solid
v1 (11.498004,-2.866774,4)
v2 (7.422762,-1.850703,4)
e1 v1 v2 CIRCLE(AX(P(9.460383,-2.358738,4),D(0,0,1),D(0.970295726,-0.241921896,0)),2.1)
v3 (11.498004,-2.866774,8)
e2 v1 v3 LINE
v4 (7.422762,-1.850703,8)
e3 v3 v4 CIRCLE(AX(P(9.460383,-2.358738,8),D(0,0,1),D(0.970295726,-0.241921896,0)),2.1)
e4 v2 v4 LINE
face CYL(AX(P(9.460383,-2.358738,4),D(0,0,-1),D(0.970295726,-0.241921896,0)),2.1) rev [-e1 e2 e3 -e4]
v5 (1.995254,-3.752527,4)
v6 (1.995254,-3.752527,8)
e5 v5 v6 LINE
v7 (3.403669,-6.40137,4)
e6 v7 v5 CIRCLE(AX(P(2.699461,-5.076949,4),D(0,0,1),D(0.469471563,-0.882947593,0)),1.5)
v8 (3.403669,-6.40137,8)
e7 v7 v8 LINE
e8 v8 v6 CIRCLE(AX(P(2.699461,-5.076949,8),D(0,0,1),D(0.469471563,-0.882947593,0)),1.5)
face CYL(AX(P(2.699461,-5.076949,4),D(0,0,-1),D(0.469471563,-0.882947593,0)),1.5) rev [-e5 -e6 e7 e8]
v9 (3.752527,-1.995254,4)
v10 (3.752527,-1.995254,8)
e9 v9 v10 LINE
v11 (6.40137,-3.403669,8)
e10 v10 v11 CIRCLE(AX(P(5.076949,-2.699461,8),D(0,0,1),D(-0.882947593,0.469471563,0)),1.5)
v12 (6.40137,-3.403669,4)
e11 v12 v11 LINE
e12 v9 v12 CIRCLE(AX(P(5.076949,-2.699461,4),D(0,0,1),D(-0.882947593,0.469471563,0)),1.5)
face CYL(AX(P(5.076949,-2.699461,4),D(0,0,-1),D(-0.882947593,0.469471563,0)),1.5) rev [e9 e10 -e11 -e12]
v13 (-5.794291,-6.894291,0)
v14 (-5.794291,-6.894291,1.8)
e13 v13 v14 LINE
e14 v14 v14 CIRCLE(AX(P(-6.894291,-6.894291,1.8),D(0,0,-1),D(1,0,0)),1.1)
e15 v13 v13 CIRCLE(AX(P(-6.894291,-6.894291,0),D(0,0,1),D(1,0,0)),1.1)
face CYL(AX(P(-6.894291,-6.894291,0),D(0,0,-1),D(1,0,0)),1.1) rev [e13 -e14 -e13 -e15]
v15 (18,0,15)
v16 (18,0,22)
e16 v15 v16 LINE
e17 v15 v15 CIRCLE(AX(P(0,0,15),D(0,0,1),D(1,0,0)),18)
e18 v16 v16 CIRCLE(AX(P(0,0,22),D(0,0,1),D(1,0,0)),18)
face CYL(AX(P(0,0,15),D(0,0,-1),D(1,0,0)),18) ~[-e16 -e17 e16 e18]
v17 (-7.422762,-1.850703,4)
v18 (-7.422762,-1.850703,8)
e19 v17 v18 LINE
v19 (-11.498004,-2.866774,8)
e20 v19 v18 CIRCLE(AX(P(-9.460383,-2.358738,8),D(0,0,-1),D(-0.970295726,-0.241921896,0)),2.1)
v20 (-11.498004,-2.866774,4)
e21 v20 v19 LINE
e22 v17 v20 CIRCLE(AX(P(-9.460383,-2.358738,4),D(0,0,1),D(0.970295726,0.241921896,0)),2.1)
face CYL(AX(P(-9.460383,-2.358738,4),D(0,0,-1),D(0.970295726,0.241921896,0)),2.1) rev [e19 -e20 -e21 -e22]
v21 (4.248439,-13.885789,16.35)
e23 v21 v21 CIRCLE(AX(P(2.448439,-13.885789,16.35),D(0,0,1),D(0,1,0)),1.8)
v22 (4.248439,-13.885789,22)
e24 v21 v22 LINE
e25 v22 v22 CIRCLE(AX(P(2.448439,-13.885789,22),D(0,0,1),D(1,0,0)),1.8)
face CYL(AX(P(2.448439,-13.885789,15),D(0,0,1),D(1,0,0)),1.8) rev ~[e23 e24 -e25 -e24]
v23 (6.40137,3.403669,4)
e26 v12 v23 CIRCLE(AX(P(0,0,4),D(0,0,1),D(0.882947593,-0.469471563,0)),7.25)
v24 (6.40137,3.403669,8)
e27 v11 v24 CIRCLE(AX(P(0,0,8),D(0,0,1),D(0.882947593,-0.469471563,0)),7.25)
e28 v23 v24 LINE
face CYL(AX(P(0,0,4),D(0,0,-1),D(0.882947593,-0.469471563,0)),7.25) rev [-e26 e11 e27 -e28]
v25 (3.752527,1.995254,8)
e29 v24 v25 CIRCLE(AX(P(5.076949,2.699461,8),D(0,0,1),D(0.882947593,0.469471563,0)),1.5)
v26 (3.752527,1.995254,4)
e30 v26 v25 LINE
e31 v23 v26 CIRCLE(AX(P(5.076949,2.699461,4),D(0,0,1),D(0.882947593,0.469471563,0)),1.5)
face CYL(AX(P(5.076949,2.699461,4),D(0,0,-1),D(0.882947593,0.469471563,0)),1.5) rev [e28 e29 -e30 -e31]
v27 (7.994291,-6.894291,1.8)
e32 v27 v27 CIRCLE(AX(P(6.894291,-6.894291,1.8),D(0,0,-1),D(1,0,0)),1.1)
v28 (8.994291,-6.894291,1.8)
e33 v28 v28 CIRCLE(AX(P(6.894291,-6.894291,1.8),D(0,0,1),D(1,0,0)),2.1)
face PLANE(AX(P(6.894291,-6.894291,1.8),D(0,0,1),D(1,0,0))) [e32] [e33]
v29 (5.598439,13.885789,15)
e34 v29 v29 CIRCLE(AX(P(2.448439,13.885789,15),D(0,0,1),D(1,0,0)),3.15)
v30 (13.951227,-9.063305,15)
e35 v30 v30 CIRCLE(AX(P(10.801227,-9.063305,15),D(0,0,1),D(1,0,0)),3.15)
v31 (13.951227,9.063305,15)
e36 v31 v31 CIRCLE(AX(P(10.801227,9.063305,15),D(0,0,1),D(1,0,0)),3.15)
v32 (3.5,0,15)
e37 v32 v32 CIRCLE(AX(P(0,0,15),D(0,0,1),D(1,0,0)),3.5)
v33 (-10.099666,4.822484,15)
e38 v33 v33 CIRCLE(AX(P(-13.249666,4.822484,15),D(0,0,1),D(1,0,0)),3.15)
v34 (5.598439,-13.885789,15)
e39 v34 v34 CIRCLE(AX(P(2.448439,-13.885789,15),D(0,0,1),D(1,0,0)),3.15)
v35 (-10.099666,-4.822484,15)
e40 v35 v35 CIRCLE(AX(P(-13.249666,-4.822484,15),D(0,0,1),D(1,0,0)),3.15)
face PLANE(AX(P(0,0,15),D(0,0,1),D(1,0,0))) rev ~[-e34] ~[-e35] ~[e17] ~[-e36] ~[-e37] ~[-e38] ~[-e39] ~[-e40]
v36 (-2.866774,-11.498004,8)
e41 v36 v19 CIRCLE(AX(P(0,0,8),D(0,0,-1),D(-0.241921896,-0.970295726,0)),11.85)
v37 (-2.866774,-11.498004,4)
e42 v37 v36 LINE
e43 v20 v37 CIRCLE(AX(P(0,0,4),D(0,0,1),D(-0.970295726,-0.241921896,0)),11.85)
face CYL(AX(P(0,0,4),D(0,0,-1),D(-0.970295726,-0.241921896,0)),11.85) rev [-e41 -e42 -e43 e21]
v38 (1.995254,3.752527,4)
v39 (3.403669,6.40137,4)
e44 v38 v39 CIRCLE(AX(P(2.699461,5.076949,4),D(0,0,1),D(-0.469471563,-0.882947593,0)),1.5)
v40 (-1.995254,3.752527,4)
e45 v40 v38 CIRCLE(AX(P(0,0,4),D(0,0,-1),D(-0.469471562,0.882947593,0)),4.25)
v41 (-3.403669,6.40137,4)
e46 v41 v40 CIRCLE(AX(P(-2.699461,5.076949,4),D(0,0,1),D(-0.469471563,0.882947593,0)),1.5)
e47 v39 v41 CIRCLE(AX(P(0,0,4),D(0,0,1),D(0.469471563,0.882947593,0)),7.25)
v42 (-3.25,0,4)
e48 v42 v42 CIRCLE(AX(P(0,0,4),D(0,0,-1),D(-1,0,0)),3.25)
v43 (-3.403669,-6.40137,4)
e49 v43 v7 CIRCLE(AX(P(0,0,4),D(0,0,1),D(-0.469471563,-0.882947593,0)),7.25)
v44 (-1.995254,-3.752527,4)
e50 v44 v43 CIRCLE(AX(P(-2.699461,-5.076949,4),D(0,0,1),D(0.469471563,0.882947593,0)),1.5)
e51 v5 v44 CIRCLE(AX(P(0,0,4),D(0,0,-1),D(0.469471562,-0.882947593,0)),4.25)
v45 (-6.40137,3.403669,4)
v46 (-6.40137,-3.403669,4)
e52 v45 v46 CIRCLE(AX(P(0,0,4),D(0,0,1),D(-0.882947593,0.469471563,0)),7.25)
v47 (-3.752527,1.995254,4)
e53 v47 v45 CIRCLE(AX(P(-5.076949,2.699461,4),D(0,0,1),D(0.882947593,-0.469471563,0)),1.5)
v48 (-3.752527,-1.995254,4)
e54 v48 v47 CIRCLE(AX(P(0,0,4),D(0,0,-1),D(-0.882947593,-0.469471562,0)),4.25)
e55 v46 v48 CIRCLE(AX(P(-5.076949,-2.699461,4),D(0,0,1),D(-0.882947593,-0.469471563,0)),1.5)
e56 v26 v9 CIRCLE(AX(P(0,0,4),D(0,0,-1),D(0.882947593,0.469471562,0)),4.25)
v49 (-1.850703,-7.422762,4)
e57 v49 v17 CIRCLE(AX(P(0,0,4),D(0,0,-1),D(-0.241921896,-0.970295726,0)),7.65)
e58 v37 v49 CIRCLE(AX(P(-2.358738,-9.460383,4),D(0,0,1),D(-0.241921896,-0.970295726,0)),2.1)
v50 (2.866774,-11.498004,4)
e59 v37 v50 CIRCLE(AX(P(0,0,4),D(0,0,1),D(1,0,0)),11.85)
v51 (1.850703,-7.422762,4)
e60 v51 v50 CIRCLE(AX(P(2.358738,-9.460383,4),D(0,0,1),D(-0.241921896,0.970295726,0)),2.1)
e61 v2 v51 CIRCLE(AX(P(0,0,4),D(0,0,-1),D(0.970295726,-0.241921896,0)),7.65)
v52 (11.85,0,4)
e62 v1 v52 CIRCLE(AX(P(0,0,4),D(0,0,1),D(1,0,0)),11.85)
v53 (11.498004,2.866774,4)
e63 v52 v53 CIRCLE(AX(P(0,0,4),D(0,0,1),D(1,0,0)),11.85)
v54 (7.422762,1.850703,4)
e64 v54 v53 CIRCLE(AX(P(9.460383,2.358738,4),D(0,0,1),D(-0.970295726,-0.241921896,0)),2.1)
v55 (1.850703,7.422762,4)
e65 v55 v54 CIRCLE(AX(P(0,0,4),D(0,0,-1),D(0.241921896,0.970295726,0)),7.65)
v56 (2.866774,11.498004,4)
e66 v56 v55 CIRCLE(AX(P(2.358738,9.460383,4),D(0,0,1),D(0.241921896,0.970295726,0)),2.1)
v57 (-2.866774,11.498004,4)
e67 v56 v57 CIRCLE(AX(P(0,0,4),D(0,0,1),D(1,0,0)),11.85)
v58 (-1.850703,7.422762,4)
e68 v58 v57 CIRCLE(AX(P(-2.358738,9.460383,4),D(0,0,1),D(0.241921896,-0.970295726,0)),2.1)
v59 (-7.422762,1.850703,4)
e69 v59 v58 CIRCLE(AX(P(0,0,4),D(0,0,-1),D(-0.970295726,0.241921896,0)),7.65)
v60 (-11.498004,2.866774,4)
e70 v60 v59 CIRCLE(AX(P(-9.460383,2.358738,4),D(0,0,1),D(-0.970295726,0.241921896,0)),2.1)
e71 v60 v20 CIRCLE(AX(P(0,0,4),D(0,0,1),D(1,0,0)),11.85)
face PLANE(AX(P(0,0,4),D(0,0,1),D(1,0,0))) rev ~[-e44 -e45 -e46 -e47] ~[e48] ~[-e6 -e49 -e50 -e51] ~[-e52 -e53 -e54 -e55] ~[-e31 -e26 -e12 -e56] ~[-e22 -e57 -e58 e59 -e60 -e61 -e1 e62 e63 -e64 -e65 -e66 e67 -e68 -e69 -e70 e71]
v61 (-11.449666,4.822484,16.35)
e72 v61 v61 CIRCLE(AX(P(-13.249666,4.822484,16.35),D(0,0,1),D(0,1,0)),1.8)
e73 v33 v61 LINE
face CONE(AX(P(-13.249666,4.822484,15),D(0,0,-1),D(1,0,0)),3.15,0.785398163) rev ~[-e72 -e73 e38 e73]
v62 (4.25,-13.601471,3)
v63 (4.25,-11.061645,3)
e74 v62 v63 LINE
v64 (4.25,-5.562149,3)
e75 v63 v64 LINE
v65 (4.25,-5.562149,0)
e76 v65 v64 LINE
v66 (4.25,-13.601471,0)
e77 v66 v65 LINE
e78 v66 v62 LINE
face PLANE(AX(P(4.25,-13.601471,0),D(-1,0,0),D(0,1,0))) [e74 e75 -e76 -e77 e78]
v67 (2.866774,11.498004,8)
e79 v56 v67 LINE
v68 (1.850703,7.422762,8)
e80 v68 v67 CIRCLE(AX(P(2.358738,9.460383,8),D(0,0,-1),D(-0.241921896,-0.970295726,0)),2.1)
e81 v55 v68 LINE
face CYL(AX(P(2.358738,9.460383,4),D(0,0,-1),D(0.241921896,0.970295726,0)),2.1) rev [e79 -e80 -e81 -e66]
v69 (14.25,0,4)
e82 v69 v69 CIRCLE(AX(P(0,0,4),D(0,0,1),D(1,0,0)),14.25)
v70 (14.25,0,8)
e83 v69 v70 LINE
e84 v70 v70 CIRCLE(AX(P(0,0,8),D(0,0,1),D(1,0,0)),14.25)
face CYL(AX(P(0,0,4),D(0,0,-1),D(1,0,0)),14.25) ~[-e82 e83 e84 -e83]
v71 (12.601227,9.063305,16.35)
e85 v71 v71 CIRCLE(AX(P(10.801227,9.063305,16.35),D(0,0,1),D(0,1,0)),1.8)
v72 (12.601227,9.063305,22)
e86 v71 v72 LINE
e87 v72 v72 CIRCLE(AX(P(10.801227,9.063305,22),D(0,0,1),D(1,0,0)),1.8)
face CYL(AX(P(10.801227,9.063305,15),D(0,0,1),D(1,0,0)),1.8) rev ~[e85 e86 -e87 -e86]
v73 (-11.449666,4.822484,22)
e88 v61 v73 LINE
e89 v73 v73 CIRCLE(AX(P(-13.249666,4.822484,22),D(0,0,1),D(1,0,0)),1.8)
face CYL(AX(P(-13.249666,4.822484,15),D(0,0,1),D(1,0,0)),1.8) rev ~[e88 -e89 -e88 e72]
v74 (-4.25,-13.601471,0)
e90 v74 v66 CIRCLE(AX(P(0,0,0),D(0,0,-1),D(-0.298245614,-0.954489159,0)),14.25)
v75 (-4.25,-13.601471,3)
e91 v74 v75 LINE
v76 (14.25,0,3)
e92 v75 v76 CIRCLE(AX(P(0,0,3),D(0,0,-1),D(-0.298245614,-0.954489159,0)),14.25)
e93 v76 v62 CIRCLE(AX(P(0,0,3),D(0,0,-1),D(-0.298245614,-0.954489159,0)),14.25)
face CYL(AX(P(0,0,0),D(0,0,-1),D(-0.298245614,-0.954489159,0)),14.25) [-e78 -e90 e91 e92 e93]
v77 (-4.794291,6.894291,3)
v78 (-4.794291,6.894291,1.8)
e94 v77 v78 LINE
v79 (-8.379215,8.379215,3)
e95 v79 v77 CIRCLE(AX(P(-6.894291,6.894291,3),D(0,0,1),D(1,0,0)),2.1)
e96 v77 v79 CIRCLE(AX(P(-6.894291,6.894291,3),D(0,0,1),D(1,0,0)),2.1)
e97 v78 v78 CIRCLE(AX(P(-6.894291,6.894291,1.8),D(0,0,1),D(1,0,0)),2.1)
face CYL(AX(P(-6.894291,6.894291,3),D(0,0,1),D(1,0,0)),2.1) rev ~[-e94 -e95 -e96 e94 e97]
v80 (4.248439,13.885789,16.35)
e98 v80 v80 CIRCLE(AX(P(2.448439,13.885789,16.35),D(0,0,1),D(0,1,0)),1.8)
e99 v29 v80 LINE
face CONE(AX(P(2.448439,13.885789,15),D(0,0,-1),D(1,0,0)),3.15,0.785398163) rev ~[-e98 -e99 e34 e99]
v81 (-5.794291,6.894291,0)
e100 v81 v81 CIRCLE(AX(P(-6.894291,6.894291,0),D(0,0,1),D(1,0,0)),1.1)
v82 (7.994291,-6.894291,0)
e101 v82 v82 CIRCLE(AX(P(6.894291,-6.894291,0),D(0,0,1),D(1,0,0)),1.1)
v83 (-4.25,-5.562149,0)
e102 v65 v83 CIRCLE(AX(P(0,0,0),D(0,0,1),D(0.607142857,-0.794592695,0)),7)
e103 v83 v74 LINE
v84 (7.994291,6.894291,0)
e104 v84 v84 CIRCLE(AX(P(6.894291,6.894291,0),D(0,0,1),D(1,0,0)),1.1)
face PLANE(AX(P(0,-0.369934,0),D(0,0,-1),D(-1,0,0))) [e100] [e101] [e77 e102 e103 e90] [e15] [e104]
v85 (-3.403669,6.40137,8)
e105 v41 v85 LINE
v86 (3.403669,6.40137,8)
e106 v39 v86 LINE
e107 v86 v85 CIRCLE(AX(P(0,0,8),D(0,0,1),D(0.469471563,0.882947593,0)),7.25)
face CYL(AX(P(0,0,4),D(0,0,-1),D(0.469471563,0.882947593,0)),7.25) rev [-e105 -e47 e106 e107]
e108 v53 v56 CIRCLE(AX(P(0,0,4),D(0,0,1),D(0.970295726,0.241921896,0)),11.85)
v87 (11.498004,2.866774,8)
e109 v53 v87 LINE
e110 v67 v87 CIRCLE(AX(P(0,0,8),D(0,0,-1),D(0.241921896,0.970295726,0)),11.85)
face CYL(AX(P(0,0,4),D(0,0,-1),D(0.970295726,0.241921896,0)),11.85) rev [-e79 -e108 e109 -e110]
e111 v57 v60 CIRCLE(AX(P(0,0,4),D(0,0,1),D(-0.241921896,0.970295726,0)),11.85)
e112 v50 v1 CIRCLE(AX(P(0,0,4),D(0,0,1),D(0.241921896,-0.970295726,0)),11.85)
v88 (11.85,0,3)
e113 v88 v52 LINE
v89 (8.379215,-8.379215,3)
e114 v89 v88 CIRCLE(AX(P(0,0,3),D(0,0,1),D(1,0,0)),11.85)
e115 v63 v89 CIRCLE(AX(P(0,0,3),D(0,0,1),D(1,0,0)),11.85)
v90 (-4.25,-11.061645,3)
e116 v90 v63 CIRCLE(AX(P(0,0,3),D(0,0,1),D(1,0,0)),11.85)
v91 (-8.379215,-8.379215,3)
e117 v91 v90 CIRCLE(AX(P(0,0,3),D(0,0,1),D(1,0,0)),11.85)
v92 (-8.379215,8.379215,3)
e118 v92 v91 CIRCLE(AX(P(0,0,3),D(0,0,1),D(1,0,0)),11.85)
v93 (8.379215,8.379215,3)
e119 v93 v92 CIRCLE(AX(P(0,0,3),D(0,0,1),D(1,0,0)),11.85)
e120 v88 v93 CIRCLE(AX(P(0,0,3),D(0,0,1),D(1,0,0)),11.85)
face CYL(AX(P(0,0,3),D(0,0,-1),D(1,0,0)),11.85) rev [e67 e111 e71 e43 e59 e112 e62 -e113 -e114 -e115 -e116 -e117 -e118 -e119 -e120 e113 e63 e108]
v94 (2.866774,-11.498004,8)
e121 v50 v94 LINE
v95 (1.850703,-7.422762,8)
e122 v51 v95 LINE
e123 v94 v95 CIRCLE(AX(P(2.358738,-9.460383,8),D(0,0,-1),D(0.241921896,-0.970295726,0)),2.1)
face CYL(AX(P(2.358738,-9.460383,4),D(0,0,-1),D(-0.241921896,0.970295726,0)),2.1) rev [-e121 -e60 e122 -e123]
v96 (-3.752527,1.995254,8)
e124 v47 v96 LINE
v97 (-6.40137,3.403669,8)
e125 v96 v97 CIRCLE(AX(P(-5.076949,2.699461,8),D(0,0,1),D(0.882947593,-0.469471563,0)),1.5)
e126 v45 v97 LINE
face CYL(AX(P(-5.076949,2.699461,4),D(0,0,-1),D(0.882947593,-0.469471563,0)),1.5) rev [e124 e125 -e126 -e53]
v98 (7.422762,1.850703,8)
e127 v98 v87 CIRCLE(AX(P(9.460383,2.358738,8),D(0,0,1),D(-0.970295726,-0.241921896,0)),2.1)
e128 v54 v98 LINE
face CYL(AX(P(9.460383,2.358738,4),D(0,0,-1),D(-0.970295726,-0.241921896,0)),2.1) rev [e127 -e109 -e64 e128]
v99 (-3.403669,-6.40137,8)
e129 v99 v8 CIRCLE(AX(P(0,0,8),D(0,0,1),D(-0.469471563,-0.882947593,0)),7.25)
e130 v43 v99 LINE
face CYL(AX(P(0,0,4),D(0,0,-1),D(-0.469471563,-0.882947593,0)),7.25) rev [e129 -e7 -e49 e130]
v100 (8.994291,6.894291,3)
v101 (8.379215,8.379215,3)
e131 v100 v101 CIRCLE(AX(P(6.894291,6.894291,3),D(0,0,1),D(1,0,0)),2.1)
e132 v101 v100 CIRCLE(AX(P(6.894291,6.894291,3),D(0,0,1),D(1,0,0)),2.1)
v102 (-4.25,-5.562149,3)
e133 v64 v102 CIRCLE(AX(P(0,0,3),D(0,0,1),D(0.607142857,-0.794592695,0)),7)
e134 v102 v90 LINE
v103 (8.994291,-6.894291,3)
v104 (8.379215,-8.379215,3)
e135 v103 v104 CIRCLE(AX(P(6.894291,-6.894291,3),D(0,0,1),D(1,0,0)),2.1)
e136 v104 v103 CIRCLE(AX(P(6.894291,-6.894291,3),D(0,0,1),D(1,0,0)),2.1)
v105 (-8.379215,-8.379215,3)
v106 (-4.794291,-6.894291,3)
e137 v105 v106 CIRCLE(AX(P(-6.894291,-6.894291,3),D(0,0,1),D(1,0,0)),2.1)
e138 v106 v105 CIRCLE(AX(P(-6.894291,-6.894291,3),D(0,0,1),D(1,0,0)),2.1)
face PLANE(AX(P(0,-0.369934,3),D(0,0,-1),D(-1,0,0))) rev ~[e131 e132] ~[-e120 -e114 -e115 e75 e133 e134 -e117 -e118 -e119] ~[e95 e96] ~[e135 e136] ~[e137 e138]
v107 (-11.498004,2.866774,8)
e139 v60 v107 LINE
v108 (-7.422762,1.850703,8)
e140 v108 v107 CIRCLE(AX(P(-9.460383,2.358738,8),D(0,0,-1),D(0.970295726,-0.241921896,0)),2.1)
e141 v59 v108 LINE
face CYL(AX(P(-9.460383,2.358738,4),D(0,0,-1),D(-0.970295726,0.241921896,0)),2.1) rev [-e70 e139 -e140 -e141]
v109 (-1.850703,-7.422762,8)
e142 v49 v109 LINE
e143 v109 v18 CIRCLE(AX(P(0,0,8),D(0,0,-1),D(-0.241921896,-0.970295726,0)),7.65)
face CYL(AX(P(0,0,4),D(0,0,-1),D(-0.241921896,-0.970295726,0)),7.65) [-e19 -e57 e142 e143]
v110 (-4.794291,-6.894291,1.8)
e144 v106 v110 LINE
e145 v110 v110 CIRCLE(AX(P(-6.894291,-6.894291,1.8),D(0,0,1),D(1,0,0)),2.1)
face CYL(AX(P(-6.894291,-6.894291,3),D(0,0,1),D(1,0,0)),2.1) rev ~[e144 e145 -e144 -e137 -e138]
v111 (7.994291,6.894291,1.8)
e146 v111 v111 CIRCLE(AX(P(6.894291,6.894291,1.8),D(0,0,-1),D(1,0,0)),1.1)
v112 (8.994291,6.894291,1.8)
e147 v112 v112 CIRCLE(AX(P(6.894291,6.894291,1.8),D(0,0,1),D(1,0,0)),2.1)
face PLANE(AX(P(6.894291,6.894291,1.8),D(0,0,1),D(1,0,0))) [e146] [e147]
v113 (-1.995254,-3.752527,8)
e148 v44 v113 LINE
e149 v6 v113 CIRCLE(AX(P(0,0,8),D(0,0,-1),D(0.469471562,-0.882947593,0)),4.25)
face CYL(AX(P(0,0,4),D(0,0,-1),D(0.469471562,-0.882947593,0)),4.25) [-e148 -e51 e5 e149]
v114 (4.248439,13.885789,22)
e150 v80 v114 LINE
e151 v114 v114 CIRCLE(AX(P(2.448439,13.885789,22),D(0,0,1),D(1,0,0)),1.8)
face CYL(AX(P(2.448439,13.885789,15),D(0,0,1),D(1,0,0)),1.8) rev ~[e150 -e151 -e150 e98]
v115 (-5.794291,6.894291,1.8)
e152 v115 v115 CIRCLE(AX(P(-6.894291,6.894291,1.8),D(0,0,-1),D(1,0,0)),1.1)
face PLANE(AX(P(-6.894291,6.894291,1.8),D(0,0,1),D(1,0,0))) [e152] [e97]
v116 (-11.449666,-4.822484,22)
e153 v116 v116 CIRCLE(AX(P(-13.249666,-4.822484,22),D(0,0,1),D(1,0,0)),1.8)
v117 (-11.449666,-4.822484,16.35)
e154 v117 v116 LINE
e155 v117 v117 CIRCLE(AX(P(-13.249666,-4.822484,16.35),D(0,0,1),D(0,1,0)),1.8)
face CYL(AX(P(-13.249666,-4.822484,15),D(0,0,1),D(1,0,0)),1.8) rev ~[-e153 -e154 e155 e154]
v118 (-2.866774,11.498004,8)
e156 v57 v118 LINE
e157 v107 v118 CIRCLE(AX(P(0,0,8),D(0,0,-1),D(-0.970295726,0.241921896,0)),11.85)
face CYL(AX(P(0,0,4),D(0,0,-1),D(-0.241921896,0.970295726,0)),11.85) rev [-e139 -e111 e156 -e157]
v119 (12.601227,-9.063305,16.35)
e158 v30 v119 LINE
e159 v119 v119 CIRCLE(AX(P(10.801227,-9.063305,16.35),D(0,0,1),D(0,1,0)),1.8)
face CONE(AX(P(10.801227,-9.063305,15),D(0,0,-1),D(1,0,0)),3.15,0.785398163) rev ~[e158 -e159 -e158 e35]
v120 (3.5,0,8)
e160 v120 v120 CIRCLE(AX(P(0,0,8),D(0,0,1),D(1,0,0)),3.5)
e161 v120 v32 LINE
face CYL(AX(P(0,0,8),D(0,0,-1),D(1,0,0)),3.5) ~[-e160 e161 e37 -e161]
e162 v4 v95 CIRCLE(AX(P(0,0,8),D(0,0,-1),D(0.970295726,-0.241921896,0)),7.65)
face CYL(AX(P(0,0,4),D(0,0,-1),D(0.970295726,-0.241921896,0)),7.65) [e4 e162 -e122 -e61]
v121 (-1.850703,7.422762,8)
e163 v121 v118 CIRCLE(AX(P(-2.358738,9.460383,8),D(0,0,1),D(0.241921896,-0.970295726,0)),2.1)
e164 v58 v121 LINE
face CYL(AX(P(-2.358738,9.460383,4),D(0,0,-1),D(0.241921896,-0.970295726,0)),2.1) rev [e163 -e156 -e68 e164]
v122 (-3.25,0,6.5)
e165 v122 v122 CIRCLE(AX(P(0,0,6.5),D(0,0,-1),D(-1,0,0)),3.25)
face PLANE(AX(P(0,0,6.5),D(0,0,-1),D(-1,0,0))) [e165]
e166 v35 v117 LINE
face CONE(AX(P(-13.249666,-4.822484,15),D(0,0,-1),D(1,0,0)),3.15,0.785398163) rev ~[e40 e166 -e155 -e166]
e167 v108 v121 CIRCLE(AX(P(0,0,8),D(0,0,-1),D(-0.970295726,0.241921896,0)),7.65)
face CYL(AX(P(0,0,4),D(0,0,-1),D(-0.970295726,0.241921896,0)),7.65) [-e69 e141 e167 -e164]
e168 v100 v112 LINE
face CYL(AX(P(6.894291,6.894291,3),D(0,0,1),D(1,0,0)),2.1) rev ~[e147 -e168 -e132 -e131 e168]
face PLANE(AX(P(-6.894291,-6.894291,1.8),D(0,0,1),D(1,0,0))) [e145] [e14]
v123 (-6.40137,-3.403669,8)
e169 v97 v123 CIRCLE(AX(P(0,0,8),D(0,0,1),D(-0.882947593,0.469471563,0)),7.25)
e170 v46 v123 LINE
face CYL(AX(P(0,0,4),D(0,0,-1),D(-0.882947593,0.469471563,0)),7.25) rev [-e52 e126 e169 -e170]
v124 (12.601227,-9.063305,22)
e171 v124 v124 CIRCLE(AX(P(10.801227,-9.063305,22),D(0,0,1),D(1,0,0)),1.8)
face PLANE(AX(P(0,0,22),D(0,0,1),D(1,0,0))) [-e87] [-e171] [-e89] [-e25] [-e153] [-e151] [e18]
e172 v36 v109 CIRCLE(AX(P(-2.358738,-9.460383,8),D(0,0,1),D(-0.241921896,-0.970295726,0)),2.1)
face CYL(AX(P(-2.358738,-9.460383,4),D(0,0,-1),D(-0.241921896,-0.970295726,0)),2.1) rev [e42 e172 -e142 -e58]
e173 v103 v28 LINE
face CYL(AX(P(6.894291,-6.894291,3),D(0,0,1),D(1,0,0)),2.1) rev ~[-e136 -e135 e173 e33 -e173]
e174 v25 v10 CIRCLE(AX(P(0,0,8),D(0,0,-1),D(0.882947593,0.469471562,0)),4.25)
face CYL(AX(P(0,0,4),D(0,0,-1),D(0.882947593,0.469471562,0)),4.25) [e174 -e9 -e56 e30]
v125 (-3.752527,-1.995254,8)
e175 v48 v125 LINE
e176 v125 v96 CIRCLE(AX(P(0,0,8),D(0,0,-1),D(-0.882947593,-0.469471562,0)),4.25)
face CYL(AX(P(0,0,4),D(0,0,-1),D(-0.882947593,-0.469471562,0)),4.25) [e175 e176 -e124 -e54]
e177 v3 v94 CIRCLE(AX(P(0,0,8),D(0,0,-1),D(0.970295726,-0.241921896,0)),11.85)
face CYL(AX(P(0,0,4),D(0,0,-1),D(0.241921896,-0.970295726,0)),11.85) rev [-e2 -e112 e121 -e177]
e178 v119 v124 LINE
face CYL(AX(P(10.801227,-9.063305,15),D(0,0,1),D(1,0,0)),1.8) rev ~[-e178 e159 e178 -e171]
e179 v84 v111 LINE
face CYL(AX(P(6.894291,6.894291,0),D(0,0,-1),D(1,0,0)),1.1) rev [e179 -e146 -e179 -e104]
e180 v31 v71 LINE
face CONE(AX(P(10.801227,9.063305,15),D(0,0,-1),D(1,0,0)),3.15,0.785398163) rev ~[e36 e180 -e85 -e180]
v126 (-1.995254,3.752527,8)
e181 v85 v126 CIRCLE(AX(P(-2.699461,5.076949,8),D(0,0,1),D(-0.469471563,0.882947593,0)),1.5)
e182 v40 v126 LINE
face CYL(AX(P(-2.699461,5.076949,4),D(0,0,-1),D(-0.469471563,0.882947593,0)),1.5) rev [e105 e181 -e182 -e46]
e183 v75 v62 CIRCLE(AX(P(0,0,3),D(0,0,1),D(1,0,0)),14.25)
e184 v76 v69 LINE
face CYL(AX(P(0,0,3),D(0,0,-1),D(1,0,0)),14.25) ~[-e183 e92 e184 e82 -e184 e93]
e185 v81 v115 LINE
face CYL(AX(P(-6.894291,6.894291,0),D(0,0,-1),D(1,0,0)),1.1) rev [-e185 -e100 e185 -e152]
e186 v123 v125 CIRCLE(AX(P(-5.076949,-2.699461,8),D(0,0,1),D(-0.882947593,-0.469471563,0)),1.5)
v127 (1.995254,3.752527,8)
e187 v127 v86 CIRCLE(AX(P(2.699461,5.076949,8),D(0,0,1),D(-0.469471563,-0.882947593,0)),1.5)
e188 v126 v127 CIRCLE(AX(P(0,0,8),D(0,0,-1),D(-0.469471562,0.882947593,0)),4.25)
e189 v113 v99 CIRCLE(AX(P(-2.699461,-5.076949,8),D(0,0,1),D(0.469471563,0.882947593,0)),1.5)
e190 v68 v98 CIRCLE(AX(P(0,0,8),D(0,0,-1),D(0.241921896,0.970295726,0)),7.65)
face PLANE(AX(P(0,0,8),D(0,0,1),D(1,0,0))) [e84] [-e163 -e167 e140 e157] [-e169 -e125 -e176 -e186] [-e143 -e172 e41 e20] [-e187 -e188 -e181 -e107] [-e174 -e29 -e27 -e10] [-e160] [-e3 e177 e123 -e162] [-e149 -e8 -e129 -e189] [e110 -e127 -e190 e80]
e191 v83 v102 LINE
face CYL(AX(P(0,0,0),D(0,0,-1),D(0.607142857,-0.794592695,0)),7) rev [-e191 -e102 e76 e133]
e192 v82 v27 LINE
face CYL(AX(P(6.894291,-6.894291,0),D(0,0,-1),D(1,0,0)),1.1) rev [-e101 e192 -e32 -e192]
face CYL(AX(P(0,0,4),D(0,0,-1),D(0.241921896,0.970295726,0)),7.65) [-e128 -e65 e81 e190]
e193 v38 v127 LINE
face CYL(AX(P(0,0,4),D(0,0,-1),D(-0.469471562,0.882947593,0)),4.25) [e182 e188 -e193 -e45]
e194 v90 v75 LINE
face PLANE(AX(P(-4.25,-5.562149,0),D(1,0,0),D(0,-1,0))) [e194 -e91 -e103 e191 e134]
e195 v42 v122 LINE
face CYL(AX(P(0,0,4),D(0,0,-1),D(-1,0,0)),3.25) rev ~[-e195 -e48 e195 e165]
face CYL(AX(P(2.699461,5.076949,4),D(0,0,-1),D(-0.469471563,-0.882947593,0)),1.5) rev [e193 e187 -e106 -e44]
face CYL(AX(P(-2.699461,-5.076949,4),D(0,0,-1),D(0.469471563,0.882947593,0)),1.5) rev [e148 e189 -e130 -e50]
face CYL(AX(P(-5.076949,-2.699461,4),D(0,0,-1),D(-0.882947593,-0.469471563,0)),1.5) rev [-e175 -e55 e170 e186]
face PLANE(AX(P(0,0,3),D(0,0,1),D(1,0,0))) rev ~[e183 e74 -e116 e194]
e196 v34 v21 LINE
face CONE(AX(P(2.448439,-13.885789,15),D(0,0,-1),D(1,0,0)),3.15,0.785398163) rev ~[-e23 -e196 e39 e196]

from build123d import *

# Parameters (mm, degrees)
SKETCH_1_R                   = 1.1
EXTRUDE_1_DEPTH              = 3
SKETCH_2_R                   = 2.1
CUT_EXTRUDE_1_DEPTH          = 1.2
SKETCH_3_R                   = 14.25
SKETCH_3_R_2                 = 11.85
EXTRUDE_2_DEPTH              = 1
SKETCH_4_R                   = 14.25
EXTRUDE_3_DEPTH              = 4
SKETCH_5_R                   = 3.25
CUT_EXTRUDE_2_DEPTH          = 2.5
SKETCH_6_R                   = 3.5
EXTRUDE_4_DEPTH              = 7
SKETCH_7_R                   = 18
SKETCH_7_R_2                 = 1.6
EXTRUDE_5_DEPTH              = 7
HOLE_WIZARD_M3_1_D           = 3.6
HOLE_WIZARD_M3_1_DEPTH       = 7
HOLE_WIZARD_M3_1_CSINK_D     = 6.3
HOLE_WIZARD_M3_1_CSINK_ANGLE = 90


with BuildPart() as part:
    # 스케치1 → 보스-돌출1 (new body)
    with BuildSketch(Plane.XY):
        with BuildLine():
            Line((-4.25, -5.562148865), (-4.25, -13.601470509))
            ThreePointArc((-4.25, -13.601470509), (0, 14.25), (4.25, -13.601470509))
            Line((4.25, -13.601470509), (4.25, -5.562148865))
            ThreePointArc((4.25, -5.562148865), (0, 7), (-4.25, -5.562148865))
        make_face()
        with Locations((6.894291117, 6.894291117)):
            Circle(SKETCH_1_R, mode=Mode.SUBTRACT)
        with Locations((6.894291117, -6.894291117)):
            Circle(SKETCH_1_R, mode=Mode.SUBTRACT)
        with Locations((-6.894291117, -6.894291117)):
            Circle(SKETCH_1_R, mode=Mode.SUBTRACT)
        with Locations((-6.894291117, 6.894291117)):
            Circle(SKETCH_1_R, mode=Mode.SUBTRACT)
    extrude(amount=EXTRUDE_1_DEPTH)

    # 스케치2 → 컷-돌출1 (cut)
    with BuildSketch(Plane.XY.offset(3)):
        with Locations((-6.894291117, 6.894291117)):
            Circle(SKETCH_2_R)
        with Locations((6.894291117, 6.894291117)):
            Circle(SKETCH_2_R)
        with Locations((6.894291117, -6.894291117)):
            Circle(SKETCH_2_R)
        with Locations((-6.894291117, -6.894291117)):
            Circle(SKETCH_2_R)
    extrude(amount=-CUT_EXTRUDE_1_DEPTH, mode=Mode.SUBTRACT)

    # 스케치3 → 보스-돌출2 (add)
    with BuildSketch(Plane.XY.offset(3)):
        Circle(SKETCH_3_R)
        Circle(SKETCH_3_R_2, mode=Mode.SUBTRACT)
    extrude(amount=EXTRUDE_2_DEPTH)

    # 스케치4 → 보스-돌출3 (add)
    with BuildSketch(Plane.XY.offset(4)):
        Circle(SKETCH_4_R)
        with BuildLine():
            ThreePointArc((11.498004356, 2.866774463), (8.379215357, 8.379215357), (2.866774463, 11.498004356))
            ThreePointArc((2.866774463, 11.498004356), (0.321117457, 9.968419312), (1.850702501, 7.422762306))
            ThreePointArc((1.850702501, 7.422762306), (5.409366876, 5.409366876), (7.422762306, 1.850702501))
            ThreePointArc((7.422762306, 1.850702501), (9.968419312, 0.321117457), (11.498004356, 2.866774463))
        make_face(mode=Mode.SUBTRACT)
        with BuildLine():
            ThreePointArc((2.866774463, -11.498004356), (8.379215357, -8.379215357), (11.498004356, -2.866774463))
            ThreePointArc((11.498004356, -2.866774463), (9.968419312, -0.321117457), (7.422762306, -1.850702501))
            ThreePointArc((7.422762306, -1.850702501), (5.409366876, -5.409366876), (1.850702501, -7.422762306))
            ThreePointArc((1.850702501, -7.422762306), (0.321117457, -9.968419312), (2.866774463, -11.498004356))
        make_face(mode=Mode.SUBTRACT)
        with BuildLine():
            ThreePointArc((-11.498004356, -2.866774463), (-8.379215357, -8.379215357), (-2.866774463, -11.498004356))
            ThreePointArc((-2.866774463, -11.498004356), (-0.321117457, -9.968419312), (-1.850702501, -7.422762306))
            ThreePointArc((-1.850702501, -7.422762306), (-5.409366876, -5.409366876), (-7.422762306, -1.850702501))
            ThreePointArc((-7.422762306, -1.850702501), (-9.968419312, -0.321117457), (-11.498004356, -2.866774463))
        make_face(mode=Mode.SUBTRACT)
        with BuildLine():
            ThreePointArc((-2.866774463, 11.498004356), (-8.379215357, 8.379215357), (-11.498004356, 2.866774463))
            ThreePointArc((-11.498004356, 2.866774463), (-9.968419312, 0.321117457), (-7.422762306, 1.850702501))
            ThreePointArc((-7.422762306, 1.850702501), (-5.409366876, 5.409366876), (-1.850702501, 7.422762306))
            ThreePointArc((-1.850702501, 7.422762306), (-0.321117457, 9.968419312), (-2.866774463, 11.498004356))
        make_face(mode=Mode.SUBTRACT)
        with BuildLine():
            ThreePointArc((3.40366883, 6.401370048), (0, 7.25), (-3.40366883, 6.401370048))
            ThreePointArc((-3.40366883, 6.401370048), (-4.023882875, 4.372741315), (-1.995254142, 3.75252727))
            ThreePointArc((-1.995254142, 3.75252727), (0, 4.25), (1.995254142, 3.75252727))
            ThreePointArc((1.995254142, 3.75252727), (4.023882875, 4.372741315), (3.40366883, 6.401370048))
        make_face(mode=Mode.SUBTRACT)
        with BuildLine():
            ThreePointArc((6.401370048, -3.40366883), (7.25, 0), (6.401370048, 3.40366883))
            ThreePointArc((6.401370048, 3.40366883), (4.372741315, 4.023882875), (3.75252727, 1.995254142))
            ThreePointArc((3.75252727, 1.995254142), (4.25, 0), (3.75252727, -1.995254142))
            ThreePointArc((3.75252727, -1.995254142), (4.372741315, -4.023882875), (6.401370048, -3.40366883))
        make_face(mode=Mode.SUBTRACT)
        with BuildLine():
            ThreePointArc((-3.40366883, -6.401370048), (0, -7.25), (3.40366883, -6.401370048))
            ThreePointArc((3.40366883, -6.401370048), (4.023882875, -4.372741315), (1.995254142, -3.75252727))
            ThreePointArc((1.995254142, -3.75252727), (0, -4.25), (-1.995254142, -3.75252727))
            ThreePointArc((-1.995254142, -3.75252727), (-4.023882875, -4.372741315), (-3.40366883, -6.401370048))
        make_face(mode=Mode.SUBTRACT)
        with BuildLine():
            ThreePointArc((-6.401370048, 3.40366883), (-7.25, 0), (-6.401370048, -3.40366883))
            ThreePointArc((-6.401370048, -3.40366883), (-4.372741315, -4.023882875), (-3.75252727, -1.995254142))
            ThreePointArc((-3.75252727, -1.995254142), (-4.25, 0), (-3.75252727, 1.995254142))
            ThreePointArc((-3.75252727, 1.995254142), (-4.372741315, 4.023882875), (-6.401370048, 3.40366883))
        make_face(mode=Mode.SUBTRACT)
    extrude(amount=EXTRUDE_3_DEPTH)

    # 스케치5 → 컷-돌출2 (cut)
    with BuildSketch(Plane(origin=(0, 0, 4), x_dir=(-1, 0, 0), z_dir=(0, 0, -1))):
        Circle(SKETCH_5_R)
    extrude(amount=-CUT_EXTRUDE_2_DEPTH, mode=Mode.SUBTRACT)

    # 스케치6 → 보스-돌출4 (add)
    with BuildSketch(Plane.XY.offset(8)):
        Circle(SKETCH_6_R)
    extrude(amount=EXTRUDE_4_DEPTH)

    # 스케치7 → 보스-돌출5 (add)
    with BuildSketch(Plane.XY.offset(15)):
        Circle(SKETCH_7_R)
        with Locations((-13.249665953, 4.822484021)):
            Circle(SKETCH_7_R_2, mode=Mode.SUBTRACT)
        with Locations((-13.249665953, -4.822484021)):
            Circle(SKETCH_7_R_2, mode=Mode.SUBTRACT)
        with Locations((10.801226648, 9.063305297)):
            Circle(SKETCH_7_R_2, mode=Mode.SUBTRACT)
        with Locations((2.448439305, 13.885789317)):
            Circle(SKETCH_7_R_2, mode=Mode.SUBTRACT)
        with Locations((2.448439305, -13.885789317)):
            Circle(SKETCH_7_R_2, mode=Mode.SUBTRACT)
        with Locations((10.801226648, -9.063305297)):
            Circle(SKETCH_7_R_2, mode=Mode.SUBTRACT)
    extrude(amount=EXTRUDE_5_DEPTH)

    # M3 접시 머리 나사용 카운터싱크1
    with Locations(Plane(origin=(2.448439305, 13.885789317, 15), x_dir=(-1, 0, 0), z_dir=(0, 0, -1))):
        with Locations((0, 0), (15.698105258, -9.063305296), (15.698105258, -18.708273338), (0, -27.771578634), (-8.352787343, -22.949094614), (-8.352787343, -4.82248402)):
            CounterSinkHole(HOLE_WIZARD_M3_1_D / 2, HOLE_WIZARD_M3_1_CSINK_D / 2, depth=HOLE_WIZARD_M3_1_DEPTH, counter_sink_angle=HOLE_WIZARD_M3_1_CSINK_ANGLE)


solid = part.part
